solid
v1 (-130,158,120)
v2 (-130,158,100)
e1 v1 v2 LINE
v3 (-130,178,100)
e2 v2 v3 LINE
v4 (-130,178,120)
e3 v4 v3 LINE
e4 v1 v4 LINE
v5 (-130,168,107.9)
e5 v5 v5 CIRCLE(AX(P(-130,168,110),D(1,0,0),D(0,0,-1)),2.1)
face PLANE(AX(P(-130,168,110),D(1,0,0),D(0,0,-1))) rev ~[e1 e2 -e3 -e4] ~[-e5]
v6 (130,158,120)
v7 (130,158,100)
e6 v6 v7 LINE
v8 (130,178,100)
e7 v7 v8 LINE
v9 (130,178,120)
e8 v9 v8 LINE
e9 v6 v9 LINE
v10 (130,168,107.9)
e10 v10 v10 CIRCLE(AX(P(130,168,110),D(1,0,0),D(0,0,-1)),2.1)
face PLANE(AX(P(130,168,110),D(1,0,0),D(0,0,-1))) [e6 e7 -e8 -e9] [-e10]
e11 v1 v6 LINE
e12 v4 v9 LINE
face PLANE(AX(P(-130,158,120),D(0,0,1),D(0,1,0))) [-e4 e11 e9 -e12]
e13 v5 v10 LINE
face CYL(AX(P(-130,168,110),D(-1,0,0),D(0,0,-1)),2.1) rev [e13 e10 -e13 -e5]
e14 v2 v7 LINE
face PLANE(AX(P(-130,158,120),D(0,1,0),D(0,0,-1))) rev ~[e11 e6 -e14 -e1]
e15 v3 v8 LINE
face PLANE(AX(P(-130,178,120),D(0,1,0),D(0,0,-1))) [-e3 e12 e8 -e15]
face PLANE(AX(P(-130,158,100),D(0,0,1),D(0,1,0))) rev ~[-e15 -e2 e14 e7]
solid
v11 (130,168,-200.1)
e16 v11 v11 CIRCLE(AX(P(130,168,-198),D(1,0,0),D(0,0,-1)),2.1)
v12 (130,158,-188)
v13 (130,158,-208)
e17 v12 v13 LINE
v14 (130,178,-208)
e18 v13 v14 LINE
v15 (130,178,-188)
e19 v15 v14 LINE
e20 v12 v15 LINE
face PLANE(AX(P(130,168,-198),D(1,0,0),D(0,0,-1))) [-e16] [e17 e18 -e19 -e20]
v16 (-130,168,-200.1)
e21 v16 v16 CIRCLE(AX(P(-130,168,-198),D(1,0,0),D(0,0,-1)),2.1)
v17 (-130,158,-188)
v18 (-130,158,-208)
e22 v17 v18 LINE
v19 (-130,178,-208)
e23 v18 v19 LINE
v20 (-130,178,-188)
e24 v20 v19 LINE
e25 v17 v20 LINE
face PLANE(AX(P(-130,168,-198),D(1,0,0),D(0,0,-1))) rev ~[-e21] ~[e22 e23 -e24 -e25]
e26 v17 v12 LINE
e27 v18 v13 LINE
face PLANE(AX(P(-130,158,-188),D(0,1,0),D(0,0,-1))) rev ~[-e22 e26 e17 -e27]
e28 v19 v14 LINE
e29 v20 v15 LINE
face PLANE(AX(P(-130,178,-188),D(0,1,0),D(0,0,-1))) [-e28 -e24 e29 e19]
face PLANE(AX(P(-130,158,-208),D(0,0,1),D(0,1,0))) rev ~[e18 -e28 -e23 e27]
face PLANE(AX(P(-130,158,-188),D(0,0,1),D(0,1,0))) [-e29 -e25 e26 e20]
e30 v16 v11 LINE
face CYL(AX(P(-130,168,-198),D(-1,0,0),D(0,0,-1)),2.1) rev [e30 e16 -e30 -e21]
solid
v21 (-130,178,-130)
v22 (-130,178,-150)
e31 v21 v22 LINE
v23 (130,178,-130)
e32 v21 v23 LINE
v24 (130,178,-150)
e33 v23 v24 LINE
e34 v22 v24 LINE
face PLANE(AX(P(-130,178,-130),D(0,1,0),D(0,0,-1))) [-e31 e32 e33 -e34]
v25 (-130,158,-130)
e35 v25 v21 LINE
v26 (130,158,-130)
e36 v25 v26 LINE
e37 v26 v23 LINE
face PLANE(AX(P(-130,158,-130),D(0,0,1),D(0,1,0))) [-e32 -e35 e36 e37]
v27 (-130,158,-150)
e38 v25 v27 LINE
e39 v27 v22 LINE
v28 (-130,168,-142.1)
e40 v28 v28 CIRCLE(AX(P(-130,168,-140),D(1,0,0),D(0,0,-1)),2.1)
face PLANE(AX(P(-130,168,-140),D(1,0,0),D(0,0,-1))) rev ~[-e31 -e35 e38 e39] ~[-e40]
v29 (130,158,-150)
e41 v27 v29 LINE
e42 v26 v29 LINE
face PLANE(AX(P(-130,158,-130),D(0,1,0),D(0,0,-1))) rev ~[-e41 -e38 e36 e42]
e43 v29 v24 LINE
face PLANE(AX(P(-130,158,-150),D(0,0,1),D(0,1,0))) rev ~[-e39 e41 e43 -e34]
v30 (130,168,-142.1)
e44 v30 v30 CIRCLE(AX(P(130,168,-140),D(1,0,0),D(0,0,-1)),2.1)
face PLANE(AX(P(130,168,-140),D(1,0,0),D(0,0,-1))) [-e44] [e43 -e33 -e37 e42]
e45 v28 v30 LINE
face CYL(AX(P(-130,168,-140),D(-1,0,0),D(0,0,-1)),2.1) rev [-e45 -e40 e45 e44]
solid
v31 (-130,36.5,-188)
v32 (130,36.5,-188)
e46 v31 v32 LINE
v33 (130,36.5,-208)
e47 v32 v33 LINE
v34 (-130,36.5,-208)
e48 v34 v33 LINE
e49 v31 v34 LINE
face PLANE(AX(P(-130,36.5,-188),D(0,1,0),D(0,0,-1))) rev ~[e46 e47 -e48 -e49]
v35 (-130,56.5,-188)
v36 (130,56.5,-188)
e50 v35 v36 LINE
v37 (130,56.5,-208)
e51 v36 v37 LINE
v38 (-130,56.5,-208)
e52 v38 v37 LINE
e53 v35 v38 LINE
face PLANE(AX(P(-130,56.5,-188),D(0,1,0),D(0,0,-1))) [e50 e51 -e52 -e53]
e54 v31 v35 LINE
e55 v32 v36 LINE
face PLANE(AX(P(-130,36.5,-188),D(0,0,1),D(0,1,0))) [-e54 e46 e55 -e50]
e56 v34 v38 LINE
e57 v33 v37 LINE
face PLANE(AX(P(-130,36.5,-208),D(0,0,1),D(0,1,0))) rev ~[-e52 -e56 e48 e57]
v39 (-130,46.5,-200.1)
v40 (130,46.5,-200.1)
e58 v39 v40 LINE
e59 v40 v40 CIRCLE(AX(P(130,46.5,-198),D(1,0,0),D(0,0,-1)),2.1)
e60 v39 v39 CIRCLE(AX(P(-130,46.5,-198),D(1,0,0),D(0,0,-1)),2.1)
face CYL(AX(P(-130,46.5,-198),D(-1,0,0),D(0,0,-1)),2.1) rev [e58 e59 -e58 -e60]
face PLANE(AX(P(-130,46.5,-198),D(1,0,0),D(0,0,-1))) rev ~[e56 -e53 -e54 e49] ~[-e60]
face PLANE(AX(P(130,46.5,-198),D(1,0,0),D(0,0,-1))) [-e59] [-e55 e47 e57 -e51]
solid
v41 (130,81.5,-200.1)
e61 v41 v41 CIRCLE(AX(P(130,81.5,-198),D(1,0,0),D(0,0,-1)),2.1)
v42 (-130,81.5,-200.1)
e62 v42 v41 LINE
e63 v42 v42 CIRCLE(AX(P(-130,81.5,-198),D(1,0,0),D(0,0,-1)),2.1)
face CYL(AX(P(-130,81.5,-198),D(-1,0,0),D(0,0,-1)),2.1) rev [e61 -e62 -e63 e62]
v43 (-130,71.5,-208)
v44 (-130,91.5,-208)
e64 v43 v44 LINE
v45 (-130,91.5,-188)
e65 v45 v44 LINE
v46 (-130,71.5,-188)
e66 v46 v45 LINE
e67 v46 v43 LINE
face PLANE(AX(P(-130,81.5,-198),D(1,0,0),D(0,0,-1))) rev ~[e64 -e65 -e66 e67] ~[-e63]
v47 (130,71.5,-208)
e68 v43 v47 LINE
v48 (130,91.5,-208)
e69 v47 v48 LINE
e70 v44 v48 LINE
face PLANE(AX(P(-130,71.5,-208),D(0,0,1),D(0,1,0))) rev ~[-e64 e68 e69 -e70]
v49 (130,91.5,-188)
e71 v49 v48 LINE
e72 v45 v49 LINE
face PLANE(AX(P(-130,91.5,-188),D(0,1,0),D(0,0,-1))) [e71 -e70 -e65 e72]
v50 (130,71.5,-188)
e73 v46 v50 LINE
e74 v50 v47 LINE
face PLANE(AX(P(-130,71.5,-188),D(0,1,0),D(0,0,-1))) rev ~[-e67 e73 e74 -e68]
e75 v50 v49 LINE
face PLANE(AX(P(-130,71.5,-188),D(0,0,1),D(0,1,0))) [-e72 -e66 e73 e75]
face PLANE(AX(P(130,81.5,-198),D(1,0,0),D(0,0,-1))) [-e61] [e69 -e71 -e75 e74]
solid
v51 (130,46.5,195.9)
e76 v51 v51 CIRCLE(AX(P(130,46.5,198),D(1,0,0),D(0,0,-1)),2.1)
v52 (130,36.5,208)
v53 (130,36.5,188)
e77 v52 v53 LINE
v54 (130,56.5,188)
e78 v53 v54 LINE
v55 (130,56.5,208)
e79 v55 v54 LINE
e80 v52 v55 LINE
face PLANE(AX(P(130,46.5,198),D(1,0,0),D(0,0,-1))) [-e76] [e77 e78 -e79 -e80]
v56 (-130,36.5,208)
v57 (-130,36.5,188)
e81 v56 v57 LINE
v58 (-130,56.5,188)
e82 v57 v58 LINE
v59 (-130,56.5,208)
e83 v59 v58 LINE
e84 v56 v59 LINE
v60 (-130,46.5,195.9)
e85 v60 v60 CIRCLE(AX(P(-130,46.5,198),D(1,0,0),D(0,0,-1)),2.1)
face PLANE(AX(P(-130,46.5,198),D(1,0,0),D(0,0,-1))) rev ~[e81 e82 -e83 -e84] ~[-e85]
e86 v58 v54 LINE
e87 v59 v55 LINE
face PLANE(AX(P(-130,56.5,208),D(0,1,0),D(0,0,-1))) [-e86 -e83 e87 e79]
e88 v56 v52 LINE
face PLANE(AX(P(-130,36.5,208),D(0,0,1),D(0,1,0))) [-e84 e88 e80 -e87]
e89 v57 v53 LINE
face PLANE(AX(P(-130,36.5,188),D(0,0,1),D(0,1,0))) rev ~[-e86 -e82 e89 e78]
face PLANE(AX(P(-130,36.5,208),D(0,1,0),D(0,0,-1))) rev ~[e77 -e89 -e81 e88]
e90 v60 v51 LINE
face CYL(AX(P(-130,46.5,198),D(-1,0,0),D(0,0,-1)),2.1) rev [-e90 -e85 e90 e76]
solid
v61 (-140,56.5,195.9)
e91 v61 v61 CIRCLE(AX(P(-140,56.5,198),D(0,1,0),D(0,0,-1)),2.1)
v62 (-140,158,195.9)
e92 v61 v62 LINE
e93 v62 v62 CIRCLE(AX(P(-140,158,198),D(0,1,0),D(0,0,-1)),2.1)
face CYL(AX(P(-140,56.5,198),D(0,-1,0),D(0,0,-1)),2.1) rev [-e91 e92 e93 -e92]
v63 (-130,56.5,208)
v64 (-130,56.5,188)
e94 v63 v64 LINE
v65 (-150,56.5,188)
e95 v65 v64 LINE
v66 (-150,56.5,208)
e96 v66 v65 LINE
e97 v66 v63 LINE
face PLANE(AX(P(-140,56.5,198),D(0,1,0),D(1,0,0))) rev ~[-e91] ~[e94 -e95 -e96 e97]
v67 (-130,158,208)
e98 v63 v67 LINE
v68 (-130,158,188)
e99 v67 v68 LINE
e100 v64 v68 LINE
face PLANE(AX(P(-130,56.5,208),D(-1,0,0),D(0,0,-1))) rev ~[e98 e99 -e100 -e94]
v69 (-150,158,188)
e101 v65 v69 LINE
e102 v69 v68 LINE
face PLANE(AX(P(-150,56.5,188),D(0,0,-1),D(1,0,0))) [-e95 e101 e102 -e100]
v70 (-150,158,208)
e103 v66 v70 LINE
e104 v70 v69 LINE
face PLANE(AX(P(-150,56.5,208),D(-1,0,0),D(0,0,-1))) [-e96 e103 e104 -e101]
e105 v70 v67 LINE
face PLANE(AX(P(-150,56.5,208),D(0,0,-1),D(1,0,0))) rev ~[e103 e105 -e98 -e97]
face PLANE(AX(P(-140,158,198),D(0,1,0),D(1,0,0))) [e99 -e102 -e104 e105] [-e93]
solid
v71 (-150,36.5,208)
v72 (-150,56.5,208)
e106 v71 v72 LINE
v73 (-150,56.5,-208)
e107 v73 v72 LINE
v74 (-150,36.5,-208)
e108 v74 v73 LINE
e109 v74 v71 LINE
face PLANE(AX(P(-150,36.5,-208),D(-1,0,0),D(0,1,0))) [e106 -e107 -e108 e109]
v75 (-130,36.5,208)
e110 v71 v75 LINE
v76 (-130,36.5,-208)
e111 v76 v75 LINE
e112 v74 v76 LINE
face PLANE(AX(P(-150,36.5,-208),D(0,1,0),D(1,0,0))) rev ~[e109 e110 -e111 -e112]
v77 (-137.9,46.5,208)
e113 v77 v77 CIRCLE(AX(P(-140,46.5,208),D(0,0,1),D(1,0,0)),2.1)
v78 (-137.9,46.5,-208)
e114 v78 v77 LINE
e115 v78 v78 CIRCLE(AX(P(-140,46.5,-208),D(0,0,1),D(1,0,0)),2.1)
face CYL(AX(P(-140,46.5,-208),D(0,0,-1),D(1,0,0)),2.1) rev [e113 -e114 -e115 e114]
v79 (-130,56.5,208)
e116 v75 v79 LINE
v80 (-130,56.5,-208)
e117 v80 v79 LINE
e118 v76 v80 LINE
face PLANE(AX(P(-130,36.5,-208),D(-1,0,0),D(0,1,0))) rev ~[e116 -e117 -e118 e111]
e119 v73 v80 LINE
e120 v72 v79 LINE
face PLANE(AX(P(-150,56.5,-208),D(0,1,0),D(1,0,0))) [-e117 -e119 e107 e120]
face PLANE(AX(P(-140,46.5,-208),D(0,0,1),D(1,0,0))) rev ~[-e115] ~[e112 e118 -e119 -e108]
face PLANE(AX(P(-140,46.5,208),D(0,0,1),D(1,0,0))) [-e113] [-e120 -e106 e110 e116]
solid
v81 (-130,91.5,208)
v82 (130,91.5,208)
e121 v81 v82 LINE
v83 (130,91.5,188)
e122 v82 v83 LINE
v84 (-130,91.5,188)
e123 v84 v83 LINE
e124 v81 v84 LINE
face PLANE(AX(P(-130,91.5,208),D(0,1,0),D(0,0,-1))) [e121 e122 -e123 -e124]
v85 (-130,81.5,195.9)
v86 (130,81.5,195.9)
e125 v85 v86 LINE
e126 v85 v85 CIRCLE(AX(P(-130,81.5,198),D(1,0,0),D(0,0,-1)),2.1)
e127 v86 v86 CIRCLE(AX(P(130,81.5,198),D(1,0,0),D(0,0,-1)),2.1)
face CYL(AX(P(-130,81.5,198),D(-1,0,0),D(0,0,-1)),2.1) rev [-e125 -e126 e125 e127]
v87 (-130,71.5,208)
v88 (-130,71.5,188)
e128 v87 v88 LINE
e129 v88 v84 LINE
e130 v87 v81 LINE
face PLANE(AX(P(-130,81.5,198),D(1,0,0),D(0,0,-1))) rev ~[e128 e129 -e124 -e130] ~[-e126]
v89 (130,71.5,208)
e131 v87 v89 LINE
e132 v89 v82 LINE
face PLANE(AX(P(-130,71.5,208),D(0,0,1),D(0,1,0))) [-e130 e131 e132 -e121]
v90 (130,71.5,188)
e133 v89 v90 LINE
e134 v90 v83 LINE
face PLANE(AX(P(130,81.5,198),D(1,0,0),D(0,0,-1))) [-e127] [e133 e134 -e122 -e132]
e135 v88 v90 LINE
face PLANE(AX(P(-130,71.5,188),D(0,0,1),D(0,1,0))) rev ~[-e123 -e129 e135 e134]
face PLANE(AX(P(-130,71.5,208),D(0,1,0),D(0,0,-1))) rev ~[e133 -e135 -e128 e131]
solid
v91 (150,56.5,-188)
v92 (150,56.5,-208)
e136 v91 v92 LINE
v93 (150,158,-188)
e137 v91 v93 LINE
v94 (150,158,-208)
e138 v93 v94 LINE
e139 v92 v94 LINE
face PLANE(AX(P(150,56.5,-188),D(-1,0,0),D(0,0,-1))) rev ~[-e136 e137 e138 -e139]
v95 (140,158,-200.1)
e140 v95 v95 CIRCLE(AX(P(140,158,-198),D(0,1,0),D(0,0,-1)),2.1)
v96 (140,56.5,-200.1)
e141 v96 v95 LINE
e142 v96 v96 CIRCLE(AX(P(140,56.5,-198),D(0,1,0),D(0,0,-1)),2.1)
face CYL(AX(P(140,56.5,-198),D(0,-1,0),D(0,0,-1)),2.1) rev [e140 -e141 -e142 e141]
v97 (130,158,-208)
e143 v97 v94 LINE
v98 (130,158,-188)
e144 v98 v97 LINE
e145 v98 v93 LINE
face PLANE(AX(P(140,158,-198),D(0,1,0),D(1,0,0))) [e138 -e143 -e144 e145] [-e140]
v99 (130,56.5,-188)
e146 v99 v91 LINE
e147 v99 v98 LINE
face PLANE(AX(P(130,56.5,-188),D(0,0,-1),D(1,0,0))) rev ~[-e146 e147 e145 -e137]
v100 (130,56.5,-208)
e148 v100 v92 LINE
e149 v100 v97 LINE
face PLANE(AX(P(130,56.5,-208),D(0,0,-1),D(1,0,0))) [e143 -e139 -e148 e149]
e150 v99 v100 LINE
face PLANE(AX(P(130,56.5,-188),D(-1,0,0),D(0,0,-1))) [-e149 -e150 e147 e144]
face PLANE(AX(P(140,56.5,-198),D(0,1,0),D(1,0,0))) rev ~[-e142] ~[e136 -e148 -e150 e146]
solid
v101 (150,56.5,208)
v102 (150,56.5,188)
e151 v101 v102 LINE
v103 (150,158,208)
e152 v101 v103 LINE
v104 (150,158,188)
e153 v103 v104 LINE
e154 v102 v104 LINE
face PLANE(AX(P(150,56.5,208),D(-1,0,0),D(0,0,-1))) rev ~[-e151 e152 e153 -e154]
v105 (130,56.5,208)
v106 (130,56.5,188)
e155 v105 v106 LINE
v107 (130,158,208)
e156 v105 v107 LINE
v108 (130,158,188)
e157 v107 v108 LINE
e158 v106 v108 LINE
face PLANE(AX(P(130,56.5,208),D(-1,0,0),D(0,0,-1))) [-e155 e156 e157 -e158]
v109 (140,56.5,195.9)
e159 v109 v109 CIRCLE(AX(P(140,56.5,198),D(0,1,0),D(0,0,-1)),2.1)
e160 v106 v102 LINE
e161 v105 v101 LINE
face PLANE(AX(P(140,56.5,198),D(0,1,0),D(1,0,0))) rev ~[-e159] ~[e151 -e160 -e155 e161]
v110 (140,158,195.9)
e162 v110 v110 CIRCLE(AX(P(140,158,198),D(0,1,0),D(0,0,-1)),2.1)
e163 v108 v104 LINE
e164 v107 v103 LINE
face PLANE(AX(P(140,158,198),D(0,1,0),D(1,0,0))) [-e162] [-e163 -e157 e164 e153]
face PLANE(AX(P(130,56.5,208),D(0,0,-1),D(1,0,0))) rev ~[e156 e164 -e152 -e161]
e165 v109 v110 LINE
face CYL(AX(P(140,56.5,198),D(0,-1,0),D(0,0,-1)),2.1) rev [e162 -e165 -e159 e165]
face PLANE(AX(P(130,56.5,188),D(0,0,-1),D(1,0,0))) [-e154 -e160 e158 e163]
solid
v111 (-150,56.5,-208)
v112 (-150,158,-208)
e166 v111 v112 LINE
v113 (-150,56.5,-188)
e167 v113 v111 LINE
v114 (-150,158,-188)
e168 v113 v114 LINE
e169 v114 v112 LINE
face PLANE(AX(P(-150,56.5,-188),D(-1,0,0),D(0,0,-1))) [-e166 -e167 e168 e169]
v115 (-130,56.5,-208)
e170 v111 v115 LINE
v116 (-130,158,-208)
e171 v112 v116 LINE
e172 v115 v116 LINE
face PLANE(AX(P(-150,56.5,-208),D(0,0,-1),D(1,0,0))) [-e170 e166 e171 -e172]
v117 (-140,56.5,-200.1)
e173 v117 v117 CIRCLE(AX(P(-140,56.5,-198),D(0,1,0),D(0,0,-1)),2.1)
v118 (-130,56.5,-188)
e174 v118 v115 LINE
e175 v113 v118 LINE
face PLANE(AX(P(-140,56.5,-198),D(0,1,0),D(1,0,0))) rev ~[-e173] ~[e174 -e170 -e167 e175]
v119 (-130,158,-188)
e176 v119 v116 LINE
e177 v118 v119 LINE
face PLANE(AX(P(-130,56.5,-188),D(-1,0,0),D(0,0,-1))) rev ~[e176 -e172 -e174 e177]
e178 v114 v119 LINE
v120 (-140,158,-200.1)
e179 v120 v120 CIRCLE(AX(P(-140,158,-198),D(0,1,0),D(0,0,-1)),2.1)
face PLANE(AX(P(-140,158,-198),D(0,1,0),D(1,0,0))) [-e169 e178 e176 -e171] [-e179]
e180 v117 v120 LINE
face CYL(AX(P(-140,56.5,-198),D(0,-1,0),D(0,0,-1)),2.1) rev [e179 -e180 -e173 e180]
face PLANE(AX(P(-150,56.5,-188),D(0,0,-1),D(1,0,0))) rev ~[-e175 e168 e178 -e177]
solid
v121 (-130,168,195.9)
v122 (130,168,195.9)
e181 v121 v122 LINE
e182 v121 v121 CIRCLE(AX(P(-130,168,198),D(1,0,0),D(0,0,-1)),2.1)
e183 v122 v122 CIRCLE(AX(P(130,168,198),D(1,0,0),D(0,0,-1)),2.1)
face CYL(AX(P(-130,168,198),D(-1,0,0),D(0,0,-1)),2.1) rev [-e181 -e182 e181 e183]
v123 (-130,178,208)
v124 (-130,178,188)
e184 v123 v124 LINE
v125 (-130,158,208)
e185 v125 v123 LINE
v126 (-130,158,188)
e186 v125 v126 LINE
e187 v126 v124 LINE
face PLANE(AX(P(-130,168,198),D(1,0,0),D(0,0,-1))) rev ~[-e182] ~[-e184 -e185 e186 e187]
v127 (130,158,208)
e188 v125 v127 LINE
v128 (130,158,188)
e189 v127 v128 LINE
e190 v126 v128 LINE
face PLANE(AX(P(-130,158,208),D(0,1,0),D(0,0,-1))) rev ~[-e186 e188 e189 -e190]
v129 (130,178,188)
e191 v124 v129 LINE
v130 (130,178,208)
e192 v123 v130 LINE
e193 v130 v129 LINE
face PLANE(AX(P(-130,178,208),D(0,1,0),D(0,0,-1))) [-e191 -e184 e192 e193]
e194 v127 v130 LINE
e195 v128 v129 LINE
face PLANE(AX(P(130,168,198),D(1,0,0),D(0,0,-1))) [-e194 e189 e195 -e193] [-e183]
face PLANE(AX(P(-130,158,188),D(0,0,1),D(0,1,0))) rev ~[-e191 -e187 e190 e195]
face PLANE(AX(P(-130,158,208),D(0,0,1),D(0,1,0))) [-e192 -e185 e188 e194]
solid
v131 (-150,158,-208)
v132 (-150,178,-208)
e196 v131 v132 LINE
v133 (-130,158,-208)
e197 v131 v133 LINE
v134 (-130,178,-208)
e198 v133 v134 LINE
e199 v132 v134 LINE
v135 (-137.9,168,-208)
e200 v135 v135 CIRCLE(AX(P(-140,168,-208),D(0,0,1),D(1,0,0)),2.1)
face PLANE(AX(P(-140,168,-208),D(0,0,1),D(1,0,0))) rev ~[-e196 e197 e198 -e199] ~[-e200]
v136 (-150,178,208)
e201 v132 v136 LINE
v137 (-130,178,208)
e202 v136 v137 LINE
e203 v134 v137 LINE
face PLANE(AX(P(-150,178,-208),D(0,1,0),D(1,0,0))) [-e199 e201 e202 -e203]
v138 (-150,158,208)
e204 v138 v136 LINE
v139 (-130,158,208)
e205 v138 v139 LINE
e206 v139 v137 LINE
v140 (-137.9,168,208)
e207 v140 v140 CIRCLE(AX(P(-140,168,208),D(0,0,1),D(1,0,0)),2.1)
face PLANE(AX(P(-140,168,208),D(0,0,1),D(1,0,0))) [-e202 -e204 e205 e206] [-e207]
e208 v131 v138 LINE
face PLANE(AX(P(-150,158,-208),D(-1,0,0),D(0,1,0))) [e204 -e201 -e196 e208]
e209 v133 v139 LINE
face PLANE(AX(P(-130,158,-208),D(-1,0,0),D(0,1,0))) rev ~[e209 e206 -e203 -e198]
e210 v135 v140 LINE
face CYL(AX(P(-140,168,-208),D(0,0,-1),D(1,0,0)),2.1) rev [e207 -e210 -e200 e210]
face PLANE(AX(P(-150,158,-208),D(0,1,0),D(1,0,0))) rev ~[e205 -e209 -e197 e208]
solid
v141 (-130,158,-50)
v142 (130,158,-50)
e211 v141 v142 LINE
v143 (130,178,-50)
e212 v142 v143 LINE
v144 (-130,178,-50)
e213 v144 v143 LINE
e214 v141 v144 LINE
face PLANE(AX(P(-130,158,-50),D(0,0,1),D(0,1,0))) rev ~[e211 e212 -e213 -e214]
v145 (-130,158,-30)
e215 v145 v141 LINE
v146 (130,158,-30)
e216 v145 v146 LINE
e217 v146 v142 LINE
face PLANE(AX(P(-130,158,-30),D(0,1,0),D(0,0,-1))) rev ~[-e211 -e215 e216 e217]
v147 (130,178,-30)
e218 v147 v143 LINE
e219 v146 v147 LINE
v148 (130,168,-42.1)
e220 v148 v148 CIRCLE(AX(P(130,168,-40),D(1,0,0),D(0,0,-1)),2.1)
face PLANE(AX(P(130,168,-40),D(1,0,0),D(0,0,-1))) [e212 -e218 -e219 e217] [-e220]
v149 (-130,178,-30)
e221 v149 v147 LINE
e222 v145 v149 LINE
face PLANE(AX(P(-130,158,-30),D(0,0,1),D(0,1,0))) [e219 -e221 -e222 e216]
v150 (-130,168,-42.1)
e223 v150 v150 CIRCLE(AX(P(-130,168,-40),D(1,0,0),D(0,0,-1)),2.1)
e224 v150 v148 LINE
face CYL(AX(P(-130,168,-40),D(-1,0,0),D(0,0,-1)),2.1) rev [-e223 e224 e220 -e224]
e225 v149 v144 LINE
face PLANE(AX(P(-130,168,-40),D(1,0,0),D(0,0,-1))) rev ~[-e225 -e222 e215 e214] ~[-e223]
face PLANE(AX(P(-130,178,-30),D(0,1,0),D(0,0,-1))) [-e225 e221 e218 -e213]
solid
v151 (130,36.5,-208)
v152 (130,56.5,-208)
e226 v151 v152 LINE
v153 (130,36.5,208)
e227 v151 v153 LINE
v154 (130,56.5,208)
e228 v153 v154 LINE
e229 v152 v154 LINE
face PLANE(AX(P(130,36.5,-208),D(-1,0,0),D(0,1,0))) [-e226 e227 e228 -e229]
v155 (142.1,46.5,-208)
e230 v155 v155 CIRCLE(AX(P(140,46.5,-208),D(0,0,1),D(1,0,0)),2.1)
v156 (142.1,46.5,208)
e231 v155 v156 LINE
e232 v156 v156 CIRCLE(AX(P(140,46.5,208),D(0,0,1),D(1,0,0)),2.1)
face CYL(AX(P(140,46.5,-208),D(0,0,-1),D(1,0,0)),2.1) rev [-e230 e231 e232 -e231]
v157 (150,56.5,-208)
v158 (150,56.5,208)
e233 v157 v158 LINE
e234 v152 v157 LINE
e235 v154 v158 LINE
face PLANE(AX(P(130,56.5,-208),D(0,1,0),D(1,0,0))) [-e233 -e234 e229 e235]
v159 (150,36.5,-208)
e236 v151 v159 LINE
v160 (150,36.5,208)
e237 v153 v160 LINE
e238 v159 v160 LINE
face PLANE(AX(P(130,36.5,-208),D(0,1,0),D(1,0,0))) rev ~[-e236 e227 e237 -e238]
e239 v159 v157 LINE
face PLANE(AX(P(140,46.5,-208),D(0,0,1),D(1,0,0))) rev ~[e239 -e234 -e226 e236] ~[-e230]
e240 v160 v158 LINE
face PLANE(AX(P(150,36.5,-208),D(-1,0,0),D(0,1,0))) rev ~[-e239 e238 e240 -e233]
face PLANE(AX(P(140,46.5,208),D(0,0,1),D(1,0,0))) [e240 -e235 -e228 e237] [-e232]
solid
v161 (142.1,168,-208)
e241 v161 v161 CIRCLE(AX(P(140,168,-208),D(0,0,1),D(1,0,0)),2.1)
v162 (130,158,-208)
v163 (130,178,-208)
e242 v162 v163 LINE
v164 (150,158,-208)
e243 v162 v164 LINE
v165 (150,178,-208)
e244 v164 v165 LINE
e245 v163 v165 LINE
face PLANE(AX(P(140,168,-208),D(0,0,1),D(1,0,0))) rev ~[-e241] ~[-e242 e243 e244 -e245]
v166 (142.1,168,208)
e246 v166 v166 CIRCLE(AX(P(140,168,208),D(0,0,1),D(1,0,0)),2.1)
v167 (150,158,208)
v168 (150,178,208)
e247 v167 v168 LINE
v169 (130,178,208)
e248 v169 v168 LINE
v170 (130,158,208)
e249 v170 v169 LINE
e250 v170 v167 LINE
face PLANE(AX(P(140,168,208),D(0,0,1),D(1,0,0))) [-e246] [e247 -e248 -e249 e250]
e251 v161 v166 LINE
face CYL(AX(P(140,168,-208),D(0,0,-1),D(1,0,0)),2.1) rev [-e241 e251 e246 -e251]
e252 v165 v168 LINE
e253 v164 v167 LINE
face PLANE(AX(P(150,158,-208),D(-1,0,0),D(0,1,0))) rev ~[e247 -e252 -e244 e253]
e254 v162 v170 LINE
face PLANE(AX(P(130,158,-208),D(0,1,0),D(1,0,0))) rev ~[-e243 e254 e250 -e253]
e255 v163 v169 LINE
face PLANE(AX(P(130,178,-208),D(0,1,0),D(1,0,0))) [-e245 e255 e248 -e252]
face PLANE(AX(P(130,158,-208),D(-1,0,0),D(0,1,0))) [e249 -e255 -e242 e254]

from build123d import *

# Parameters (mm, degrees)
SK_BOTSIDERAILS_W       = 20
SK_BOTSIDERAILS_H       = 20
SK_BOTSIDERAILS_R       = 2.1
EX_BOTSIDERAILS_DEPTH   = 416
EX_BOTSIDERAILS_2_DEPTH = 416
SK_TOPSIDERAILS_W       = 20
SK_TOPSIDERAILS_H       = 20
SK_TOPSIDERAILS_R       = 2.1
EX_TOPSIDERAILS_DEPTH   = 416
EX_TOPSIDERAILS_2_DEPTH = 416
SK_BOTENDRAILS_W        = 20
SK_BOTENDRAILS_H        = 20
SK_BOTENDRAILS_R        = 2.1
EX_BOTENDRAILS_DEPTH    = 260
EX_BOTENDRAILS_2_DEPTH  = 260
SK_TOPENDRAILS_W        = 20
SK_TOPENDRAILS_H        = 20
SK_TOPENDRAILS_R        = 2.1
EX_TOPENDRAILS_DEPTH    = 260
EX_TOPENDRAILS_2_DEPTH  = 260
SK_MIDCROSS_W           = 20
SK_MIDCROSS_H           = 20
SK_MIDCROSS_R           = 2.1
EX_MIDCROSS_DEPTH       = 260
EX_MIDCROSS_2_DEPTH     = 260
SK_TOPCROSS_W           = 20
SK_TOPCROSS_H           = 20
SK_TOPCROSS_R           = 2.1
EX_TOPCROSS_DEPTH       = 260
EX_TOPCROSS_2_DEPTH     = 260
EX_TOPCROSS_3_DEPTH     = 260
SK_UPRIGHTS_W           = 20
SK_UPRIGHTS_H           = 20
SK_UPRIGHTS_R           = 2.1
EX_UPRIGHTS_DEPTH       = 101.5
EX_UPRIGHTS_2_DEPTH     = 101.5
EX_UPRIGHTS_3_DEPTH     = 101.5
EX_UPRIGHTS_4_DEPTH     = 101.5


with BuildPart() as part:
    # SK_BotSideRails → EX_BotSideRails (new body)
    with BuildSketch(Plane.XY.offset(-208)):
        with Locations((140, 46.5)):
            Rectangle(SK_BOTSIDERAILS_W, SK_BOTSIDERAILS_H)
        with Locations((140, 46.5)):
            Circle(SK_BOTSIDERAILS_R, mode=Mode.SUBTRACT)
    extrude(amount=EX_BOTSIDERAILS_DEPTH)


with BuildPart() as body_2:
    # SK_BotSideRails → EX_BotSideRails 2 (new body)
    with BuildSketch(Plane.XY.offset(-208)):
        with Locations((-140, 46.5)):
            Rectangle(SK_BOTSIDERAILS_W, SK_BOTSIDERAILS_H)
        with Locations((-140, 46.5)):
            Circle(SK_BOTSIDERAILS_R, mode=Mode.SUBTRACT)
    extrude(amount=EX_BOTSIDERAILS_2_DEPTH)


with BuildPart() as body_3:
    # SK_TopSideRails → EX_TopSideRails (new body)
    with BuildSketch(Plane.XY.offset(-208)):
        with Locations((140, 168)):
            Rectangle(SK_TOPSIDERAILS_W, SK_TOPSIDERAILS_H)
        with Locations((140, 168)):
            Circle(SK_TOPSIDERAILS_R, mode=Mode.SUBTRACT)
    extrude(amount=EX_TOPSIDERAILS_DEPTH)


with BuildPart() as body_4:
    # SK_TopSideRails → EX_TopSideRails 2 (new body)
    with BuildSketch(Plane.XY.offset(-208)):
        with Locations((-140, 168)):
            Rectangle(SK_TOPSIDERAILS_W, SK_TOPSIDERAILS_H)
        with Locations((-140, 168)):
            Circle(SK_TOPSIDERAILS_R, mode=Mode.SUBTRACT)
    extrude(amount=EX_TOPSIDERAILS_2_DEPTH)


with BuildPart() as body_5:
    # SK_BotEndRails → EX_BotEndRails (new body)
    with BuildSketch(Plane(origin=(-130, 0, 0), x_dir=(0, 0, -1), z_dir=(1, 0, 0))):
        with Locations((-198, 46.5)):
            Rectangle(SK_BOTENDRAILS_W, SK_BOTENDRAILS_H)
        with Locations((-198, 46.5)):
            Circle(SK_BOTENDRAILS_R, mode=Mode.SUBTRACT)
    extrude(amount=EX_BOTENDRAILS_DEPTH)


with BuildPart() as body_6:
    # SK_BotEndRails → EX_BotEndRails 2 (new body)
    with BuildSketch(Plane(origin=(-130, 0, 0), x_dir=(0, 0, -1), z_dir=(1, 0, 0))):
        with Locations((198, 46.5)):
            Rectangle(SK_BOTENDRAILS_W, SK_BOTENDRAILS_H)
        with Locations((198, 46.5)):
            Circle(SK_BOTENDRAILS_R, mode=Mode.SUBTRACT)
    extrude(amount=EX_BOTENDRAILS_2_DEPTH)


with BuildPart() as body_7:
    # SK_TopEndRails → EX_TopEndRails (new body)
    with BuildSketch(Plane(origin=(-130, 0, 0), x_dir=(0, 0, -1), z_dir=(1, 0, 0))):
        with Locations((-198, 168)):
            Rectangle(SK_TOPENDRAILS_W, SK_TOPENDRAILS_H)
        with Locations((-198, 168)):
            Circle(SK_TOPENDRAILS_R, mode=Mode.SUBTRACT)
    extrude(amount=EX_TOPENDRAILS_DEPTH)


with BuildPart() as body_8:
    # SK_TopEndRails → EX_TopEndRails 2 (new body)
    with BuildSketch(Plane(origin=(-130, 0, 0), x_dir=(0, 0, -1), z_dir=(1, 0, 0))):
        with Locations((198, 168)):
            Rectangle(SK_TOPENDRAILS_W, SK_TOPENDRAILS_H)
        with Locations((198, 168)):
            Circle(SK_TOPENDRAILS_R, mode=Mode.SUBTRACT)
    extrude(amount=EX_TOPENDRAILS_2_DEPTH)


with BuildPart() as body_9:
    # SK_MidCross → EX_MidCross (new body)
    with BuildSketch(Plane(origin=(-130, 0, 0), x_dir=(0, 0, -1), z_dir=(1, 0, 0))):
        with Locations((-198, 81.5)):
            Rectangle(SK_MIDCROSS_W, SK_MIDCROSS_H)
        with Locations((-198, 81.5)):
            Circle(SK_MIDCROSS_R, mode=Mode.SUBTRACT)
    extrude(amount=EX_MIDCROSS_DEPTH)


with BuildPart() as body_10:
    # SK_MidCross → EX_MidCross 2 (new body)
    with BuildSketch(Plane(origin=(-130, 0, 0), x_dir=(0, 0, -1), z_dir=(1, 0, 0))):
        with Locations((198, 81.5)):
            Rectangle(SK_MIDCROSS_W, SK_MIDCROSS_H)
        with Locations((198, 81.5)):
            Circle(SK_MIDCROSS_R, mode=Mode.SUBTRACT)
    extrude(amount=EX_MIDCROSS_2_DEPTH)


with BuildPart() as body_11:
    # SK_TopCross → EX_TopCross (new body)
    with BuildSketch(Plane(origin=(-130, 0, 0), x_dir=(0, 0, -1), z_dir=(1, 0, 0))):
        with Locations((40, 168)):
            Rectangle(SK_TOPCROSS_W, SK_TOPCROSS_H)
        with Locations((40, 168)):
            Circle(SK_TOPCROSS_R, mode=Mode.SUBTRACT)
    extrude(amount=EX_TOPCROSS_DEPTH)


with BuildPart() as body_12:
    # SK_TopCross → EX_TopCross 2 (new body)
    with BuildSketch(Plane(origin=(-130, 0, 0), x_dir=(0, 0, -1), z_dir=(1, 0, 0))):
        with Locations((140, 168)):
            Rectangle(SK_TOPCROSS_W, SK_TOPCROSS_H)
        with Locations((140, 168)):
            Circle(SK_TOPCROSS_R, mode=Mode.SUBTRACT)
    extrude(amount=EX_TOPCROSS_2_DEPTH)


with BuildPart() as body_13:
    # SK_TopCross → EX_TopCross 3 (new body)
    with BuildSketch(Plane(origin=(-130, 0, 0), x_dir=(0, 0, -1), z_dir=(1, 0, 0))):
        with Locations((-110, 168)):
            Rectangle(SK_TOPCROSS_W, SK_TOPCROSS_H)
        with Locations((-110, 168)):
            Circle(SK_TOPCROSS_R, mode=Mode.SUBTRACT)
    extrude(amount=EX_TOPCROSS_3_DEPTH)


with BuildPart() as body_14:
    # SK_Uprights → EX_Uprights (new body)
    with BuildSketch(Plane(origin=(0, 56.5, 0), x_dir=(1, 0, 0), z_dir=(0, 1, 0))):
        with Locations((140, -198)):
            Rectangle(SK_UPRIGHTS_W, SK_UPRIGHTS_H)
        with Locations((140, -198)):
            Circle(SK_UPRIGHTS_R, mode=Mode.SUBTRACT)
    extrude(amount=EX_UPRIGHTS_DEPTH)


with BuildPart() as body_15:
    # SK_Uprights → EX_Uprights 2 (new body)
    with BuildSketch(Plane(origin=(0, 56.5, 0), x_dir=(1, 0, 0), z_dir=(0, 1, 0))):
        with Locations((-140, -198)):
            Rectangle(SK_UPRIGHTS_W, SK_UPRIGHTS_H)
        with Locations((-140, -198)):
            Circle(SK_UPRIGHTS_R, mode=Mode.SUBTRACT)
    extrude(amount=EX_UPRIGHTS_2_DEPTH)


with BuildPart() as body_16:
    # SK_Uprights → EX_Uprights 3 (new body)
    with BuildSketch(Plane(origin=(0, 56.5, 0), x_dir=(1, 0, 0), z_dir=(0, 1, 0))):
        with Locations((140, 198)):
            Rectangle(SK_UPRIGHTS_W, SK_UPRIGHTS_H)
        with Locations((140, 198)):
            Circle(SK_UPRIGHTS_R, mode=Mode.SUBTRACT)
    extrude(amount=EX_UPRIGHTS_3_DEPTH)


with BuildPart() as body_17:
    # SK_Uprights → EX_Uprights 4 (new body)
    with BuildSketch(Plane(origin=(0, 56.5, 0), x_dir=(1, 0, 0), z_dir=(0, 1, 0))):
        with Locations((-140, 198)):
            Rectangle(SK_UPRIGHTS_W, SK_UPRIGHTS_H)
        with Locations((-140, 198)):
            Circle(SK_UPRIGHTS_R, mode=Mode.SUBTRACT)
    extrude(amount=EX_UPRIGHTS_4_DEPTH)


solid = Compound([part.part, body_2.part, body_3.part, body_4.part, body_5.part, body_6.part, body_7.part, body_8.part, body_9.part, body_10.part, body_11.part, body_12.part, body_13.part, body_14.part, body_15.part, body_16.part, body_17.part])
